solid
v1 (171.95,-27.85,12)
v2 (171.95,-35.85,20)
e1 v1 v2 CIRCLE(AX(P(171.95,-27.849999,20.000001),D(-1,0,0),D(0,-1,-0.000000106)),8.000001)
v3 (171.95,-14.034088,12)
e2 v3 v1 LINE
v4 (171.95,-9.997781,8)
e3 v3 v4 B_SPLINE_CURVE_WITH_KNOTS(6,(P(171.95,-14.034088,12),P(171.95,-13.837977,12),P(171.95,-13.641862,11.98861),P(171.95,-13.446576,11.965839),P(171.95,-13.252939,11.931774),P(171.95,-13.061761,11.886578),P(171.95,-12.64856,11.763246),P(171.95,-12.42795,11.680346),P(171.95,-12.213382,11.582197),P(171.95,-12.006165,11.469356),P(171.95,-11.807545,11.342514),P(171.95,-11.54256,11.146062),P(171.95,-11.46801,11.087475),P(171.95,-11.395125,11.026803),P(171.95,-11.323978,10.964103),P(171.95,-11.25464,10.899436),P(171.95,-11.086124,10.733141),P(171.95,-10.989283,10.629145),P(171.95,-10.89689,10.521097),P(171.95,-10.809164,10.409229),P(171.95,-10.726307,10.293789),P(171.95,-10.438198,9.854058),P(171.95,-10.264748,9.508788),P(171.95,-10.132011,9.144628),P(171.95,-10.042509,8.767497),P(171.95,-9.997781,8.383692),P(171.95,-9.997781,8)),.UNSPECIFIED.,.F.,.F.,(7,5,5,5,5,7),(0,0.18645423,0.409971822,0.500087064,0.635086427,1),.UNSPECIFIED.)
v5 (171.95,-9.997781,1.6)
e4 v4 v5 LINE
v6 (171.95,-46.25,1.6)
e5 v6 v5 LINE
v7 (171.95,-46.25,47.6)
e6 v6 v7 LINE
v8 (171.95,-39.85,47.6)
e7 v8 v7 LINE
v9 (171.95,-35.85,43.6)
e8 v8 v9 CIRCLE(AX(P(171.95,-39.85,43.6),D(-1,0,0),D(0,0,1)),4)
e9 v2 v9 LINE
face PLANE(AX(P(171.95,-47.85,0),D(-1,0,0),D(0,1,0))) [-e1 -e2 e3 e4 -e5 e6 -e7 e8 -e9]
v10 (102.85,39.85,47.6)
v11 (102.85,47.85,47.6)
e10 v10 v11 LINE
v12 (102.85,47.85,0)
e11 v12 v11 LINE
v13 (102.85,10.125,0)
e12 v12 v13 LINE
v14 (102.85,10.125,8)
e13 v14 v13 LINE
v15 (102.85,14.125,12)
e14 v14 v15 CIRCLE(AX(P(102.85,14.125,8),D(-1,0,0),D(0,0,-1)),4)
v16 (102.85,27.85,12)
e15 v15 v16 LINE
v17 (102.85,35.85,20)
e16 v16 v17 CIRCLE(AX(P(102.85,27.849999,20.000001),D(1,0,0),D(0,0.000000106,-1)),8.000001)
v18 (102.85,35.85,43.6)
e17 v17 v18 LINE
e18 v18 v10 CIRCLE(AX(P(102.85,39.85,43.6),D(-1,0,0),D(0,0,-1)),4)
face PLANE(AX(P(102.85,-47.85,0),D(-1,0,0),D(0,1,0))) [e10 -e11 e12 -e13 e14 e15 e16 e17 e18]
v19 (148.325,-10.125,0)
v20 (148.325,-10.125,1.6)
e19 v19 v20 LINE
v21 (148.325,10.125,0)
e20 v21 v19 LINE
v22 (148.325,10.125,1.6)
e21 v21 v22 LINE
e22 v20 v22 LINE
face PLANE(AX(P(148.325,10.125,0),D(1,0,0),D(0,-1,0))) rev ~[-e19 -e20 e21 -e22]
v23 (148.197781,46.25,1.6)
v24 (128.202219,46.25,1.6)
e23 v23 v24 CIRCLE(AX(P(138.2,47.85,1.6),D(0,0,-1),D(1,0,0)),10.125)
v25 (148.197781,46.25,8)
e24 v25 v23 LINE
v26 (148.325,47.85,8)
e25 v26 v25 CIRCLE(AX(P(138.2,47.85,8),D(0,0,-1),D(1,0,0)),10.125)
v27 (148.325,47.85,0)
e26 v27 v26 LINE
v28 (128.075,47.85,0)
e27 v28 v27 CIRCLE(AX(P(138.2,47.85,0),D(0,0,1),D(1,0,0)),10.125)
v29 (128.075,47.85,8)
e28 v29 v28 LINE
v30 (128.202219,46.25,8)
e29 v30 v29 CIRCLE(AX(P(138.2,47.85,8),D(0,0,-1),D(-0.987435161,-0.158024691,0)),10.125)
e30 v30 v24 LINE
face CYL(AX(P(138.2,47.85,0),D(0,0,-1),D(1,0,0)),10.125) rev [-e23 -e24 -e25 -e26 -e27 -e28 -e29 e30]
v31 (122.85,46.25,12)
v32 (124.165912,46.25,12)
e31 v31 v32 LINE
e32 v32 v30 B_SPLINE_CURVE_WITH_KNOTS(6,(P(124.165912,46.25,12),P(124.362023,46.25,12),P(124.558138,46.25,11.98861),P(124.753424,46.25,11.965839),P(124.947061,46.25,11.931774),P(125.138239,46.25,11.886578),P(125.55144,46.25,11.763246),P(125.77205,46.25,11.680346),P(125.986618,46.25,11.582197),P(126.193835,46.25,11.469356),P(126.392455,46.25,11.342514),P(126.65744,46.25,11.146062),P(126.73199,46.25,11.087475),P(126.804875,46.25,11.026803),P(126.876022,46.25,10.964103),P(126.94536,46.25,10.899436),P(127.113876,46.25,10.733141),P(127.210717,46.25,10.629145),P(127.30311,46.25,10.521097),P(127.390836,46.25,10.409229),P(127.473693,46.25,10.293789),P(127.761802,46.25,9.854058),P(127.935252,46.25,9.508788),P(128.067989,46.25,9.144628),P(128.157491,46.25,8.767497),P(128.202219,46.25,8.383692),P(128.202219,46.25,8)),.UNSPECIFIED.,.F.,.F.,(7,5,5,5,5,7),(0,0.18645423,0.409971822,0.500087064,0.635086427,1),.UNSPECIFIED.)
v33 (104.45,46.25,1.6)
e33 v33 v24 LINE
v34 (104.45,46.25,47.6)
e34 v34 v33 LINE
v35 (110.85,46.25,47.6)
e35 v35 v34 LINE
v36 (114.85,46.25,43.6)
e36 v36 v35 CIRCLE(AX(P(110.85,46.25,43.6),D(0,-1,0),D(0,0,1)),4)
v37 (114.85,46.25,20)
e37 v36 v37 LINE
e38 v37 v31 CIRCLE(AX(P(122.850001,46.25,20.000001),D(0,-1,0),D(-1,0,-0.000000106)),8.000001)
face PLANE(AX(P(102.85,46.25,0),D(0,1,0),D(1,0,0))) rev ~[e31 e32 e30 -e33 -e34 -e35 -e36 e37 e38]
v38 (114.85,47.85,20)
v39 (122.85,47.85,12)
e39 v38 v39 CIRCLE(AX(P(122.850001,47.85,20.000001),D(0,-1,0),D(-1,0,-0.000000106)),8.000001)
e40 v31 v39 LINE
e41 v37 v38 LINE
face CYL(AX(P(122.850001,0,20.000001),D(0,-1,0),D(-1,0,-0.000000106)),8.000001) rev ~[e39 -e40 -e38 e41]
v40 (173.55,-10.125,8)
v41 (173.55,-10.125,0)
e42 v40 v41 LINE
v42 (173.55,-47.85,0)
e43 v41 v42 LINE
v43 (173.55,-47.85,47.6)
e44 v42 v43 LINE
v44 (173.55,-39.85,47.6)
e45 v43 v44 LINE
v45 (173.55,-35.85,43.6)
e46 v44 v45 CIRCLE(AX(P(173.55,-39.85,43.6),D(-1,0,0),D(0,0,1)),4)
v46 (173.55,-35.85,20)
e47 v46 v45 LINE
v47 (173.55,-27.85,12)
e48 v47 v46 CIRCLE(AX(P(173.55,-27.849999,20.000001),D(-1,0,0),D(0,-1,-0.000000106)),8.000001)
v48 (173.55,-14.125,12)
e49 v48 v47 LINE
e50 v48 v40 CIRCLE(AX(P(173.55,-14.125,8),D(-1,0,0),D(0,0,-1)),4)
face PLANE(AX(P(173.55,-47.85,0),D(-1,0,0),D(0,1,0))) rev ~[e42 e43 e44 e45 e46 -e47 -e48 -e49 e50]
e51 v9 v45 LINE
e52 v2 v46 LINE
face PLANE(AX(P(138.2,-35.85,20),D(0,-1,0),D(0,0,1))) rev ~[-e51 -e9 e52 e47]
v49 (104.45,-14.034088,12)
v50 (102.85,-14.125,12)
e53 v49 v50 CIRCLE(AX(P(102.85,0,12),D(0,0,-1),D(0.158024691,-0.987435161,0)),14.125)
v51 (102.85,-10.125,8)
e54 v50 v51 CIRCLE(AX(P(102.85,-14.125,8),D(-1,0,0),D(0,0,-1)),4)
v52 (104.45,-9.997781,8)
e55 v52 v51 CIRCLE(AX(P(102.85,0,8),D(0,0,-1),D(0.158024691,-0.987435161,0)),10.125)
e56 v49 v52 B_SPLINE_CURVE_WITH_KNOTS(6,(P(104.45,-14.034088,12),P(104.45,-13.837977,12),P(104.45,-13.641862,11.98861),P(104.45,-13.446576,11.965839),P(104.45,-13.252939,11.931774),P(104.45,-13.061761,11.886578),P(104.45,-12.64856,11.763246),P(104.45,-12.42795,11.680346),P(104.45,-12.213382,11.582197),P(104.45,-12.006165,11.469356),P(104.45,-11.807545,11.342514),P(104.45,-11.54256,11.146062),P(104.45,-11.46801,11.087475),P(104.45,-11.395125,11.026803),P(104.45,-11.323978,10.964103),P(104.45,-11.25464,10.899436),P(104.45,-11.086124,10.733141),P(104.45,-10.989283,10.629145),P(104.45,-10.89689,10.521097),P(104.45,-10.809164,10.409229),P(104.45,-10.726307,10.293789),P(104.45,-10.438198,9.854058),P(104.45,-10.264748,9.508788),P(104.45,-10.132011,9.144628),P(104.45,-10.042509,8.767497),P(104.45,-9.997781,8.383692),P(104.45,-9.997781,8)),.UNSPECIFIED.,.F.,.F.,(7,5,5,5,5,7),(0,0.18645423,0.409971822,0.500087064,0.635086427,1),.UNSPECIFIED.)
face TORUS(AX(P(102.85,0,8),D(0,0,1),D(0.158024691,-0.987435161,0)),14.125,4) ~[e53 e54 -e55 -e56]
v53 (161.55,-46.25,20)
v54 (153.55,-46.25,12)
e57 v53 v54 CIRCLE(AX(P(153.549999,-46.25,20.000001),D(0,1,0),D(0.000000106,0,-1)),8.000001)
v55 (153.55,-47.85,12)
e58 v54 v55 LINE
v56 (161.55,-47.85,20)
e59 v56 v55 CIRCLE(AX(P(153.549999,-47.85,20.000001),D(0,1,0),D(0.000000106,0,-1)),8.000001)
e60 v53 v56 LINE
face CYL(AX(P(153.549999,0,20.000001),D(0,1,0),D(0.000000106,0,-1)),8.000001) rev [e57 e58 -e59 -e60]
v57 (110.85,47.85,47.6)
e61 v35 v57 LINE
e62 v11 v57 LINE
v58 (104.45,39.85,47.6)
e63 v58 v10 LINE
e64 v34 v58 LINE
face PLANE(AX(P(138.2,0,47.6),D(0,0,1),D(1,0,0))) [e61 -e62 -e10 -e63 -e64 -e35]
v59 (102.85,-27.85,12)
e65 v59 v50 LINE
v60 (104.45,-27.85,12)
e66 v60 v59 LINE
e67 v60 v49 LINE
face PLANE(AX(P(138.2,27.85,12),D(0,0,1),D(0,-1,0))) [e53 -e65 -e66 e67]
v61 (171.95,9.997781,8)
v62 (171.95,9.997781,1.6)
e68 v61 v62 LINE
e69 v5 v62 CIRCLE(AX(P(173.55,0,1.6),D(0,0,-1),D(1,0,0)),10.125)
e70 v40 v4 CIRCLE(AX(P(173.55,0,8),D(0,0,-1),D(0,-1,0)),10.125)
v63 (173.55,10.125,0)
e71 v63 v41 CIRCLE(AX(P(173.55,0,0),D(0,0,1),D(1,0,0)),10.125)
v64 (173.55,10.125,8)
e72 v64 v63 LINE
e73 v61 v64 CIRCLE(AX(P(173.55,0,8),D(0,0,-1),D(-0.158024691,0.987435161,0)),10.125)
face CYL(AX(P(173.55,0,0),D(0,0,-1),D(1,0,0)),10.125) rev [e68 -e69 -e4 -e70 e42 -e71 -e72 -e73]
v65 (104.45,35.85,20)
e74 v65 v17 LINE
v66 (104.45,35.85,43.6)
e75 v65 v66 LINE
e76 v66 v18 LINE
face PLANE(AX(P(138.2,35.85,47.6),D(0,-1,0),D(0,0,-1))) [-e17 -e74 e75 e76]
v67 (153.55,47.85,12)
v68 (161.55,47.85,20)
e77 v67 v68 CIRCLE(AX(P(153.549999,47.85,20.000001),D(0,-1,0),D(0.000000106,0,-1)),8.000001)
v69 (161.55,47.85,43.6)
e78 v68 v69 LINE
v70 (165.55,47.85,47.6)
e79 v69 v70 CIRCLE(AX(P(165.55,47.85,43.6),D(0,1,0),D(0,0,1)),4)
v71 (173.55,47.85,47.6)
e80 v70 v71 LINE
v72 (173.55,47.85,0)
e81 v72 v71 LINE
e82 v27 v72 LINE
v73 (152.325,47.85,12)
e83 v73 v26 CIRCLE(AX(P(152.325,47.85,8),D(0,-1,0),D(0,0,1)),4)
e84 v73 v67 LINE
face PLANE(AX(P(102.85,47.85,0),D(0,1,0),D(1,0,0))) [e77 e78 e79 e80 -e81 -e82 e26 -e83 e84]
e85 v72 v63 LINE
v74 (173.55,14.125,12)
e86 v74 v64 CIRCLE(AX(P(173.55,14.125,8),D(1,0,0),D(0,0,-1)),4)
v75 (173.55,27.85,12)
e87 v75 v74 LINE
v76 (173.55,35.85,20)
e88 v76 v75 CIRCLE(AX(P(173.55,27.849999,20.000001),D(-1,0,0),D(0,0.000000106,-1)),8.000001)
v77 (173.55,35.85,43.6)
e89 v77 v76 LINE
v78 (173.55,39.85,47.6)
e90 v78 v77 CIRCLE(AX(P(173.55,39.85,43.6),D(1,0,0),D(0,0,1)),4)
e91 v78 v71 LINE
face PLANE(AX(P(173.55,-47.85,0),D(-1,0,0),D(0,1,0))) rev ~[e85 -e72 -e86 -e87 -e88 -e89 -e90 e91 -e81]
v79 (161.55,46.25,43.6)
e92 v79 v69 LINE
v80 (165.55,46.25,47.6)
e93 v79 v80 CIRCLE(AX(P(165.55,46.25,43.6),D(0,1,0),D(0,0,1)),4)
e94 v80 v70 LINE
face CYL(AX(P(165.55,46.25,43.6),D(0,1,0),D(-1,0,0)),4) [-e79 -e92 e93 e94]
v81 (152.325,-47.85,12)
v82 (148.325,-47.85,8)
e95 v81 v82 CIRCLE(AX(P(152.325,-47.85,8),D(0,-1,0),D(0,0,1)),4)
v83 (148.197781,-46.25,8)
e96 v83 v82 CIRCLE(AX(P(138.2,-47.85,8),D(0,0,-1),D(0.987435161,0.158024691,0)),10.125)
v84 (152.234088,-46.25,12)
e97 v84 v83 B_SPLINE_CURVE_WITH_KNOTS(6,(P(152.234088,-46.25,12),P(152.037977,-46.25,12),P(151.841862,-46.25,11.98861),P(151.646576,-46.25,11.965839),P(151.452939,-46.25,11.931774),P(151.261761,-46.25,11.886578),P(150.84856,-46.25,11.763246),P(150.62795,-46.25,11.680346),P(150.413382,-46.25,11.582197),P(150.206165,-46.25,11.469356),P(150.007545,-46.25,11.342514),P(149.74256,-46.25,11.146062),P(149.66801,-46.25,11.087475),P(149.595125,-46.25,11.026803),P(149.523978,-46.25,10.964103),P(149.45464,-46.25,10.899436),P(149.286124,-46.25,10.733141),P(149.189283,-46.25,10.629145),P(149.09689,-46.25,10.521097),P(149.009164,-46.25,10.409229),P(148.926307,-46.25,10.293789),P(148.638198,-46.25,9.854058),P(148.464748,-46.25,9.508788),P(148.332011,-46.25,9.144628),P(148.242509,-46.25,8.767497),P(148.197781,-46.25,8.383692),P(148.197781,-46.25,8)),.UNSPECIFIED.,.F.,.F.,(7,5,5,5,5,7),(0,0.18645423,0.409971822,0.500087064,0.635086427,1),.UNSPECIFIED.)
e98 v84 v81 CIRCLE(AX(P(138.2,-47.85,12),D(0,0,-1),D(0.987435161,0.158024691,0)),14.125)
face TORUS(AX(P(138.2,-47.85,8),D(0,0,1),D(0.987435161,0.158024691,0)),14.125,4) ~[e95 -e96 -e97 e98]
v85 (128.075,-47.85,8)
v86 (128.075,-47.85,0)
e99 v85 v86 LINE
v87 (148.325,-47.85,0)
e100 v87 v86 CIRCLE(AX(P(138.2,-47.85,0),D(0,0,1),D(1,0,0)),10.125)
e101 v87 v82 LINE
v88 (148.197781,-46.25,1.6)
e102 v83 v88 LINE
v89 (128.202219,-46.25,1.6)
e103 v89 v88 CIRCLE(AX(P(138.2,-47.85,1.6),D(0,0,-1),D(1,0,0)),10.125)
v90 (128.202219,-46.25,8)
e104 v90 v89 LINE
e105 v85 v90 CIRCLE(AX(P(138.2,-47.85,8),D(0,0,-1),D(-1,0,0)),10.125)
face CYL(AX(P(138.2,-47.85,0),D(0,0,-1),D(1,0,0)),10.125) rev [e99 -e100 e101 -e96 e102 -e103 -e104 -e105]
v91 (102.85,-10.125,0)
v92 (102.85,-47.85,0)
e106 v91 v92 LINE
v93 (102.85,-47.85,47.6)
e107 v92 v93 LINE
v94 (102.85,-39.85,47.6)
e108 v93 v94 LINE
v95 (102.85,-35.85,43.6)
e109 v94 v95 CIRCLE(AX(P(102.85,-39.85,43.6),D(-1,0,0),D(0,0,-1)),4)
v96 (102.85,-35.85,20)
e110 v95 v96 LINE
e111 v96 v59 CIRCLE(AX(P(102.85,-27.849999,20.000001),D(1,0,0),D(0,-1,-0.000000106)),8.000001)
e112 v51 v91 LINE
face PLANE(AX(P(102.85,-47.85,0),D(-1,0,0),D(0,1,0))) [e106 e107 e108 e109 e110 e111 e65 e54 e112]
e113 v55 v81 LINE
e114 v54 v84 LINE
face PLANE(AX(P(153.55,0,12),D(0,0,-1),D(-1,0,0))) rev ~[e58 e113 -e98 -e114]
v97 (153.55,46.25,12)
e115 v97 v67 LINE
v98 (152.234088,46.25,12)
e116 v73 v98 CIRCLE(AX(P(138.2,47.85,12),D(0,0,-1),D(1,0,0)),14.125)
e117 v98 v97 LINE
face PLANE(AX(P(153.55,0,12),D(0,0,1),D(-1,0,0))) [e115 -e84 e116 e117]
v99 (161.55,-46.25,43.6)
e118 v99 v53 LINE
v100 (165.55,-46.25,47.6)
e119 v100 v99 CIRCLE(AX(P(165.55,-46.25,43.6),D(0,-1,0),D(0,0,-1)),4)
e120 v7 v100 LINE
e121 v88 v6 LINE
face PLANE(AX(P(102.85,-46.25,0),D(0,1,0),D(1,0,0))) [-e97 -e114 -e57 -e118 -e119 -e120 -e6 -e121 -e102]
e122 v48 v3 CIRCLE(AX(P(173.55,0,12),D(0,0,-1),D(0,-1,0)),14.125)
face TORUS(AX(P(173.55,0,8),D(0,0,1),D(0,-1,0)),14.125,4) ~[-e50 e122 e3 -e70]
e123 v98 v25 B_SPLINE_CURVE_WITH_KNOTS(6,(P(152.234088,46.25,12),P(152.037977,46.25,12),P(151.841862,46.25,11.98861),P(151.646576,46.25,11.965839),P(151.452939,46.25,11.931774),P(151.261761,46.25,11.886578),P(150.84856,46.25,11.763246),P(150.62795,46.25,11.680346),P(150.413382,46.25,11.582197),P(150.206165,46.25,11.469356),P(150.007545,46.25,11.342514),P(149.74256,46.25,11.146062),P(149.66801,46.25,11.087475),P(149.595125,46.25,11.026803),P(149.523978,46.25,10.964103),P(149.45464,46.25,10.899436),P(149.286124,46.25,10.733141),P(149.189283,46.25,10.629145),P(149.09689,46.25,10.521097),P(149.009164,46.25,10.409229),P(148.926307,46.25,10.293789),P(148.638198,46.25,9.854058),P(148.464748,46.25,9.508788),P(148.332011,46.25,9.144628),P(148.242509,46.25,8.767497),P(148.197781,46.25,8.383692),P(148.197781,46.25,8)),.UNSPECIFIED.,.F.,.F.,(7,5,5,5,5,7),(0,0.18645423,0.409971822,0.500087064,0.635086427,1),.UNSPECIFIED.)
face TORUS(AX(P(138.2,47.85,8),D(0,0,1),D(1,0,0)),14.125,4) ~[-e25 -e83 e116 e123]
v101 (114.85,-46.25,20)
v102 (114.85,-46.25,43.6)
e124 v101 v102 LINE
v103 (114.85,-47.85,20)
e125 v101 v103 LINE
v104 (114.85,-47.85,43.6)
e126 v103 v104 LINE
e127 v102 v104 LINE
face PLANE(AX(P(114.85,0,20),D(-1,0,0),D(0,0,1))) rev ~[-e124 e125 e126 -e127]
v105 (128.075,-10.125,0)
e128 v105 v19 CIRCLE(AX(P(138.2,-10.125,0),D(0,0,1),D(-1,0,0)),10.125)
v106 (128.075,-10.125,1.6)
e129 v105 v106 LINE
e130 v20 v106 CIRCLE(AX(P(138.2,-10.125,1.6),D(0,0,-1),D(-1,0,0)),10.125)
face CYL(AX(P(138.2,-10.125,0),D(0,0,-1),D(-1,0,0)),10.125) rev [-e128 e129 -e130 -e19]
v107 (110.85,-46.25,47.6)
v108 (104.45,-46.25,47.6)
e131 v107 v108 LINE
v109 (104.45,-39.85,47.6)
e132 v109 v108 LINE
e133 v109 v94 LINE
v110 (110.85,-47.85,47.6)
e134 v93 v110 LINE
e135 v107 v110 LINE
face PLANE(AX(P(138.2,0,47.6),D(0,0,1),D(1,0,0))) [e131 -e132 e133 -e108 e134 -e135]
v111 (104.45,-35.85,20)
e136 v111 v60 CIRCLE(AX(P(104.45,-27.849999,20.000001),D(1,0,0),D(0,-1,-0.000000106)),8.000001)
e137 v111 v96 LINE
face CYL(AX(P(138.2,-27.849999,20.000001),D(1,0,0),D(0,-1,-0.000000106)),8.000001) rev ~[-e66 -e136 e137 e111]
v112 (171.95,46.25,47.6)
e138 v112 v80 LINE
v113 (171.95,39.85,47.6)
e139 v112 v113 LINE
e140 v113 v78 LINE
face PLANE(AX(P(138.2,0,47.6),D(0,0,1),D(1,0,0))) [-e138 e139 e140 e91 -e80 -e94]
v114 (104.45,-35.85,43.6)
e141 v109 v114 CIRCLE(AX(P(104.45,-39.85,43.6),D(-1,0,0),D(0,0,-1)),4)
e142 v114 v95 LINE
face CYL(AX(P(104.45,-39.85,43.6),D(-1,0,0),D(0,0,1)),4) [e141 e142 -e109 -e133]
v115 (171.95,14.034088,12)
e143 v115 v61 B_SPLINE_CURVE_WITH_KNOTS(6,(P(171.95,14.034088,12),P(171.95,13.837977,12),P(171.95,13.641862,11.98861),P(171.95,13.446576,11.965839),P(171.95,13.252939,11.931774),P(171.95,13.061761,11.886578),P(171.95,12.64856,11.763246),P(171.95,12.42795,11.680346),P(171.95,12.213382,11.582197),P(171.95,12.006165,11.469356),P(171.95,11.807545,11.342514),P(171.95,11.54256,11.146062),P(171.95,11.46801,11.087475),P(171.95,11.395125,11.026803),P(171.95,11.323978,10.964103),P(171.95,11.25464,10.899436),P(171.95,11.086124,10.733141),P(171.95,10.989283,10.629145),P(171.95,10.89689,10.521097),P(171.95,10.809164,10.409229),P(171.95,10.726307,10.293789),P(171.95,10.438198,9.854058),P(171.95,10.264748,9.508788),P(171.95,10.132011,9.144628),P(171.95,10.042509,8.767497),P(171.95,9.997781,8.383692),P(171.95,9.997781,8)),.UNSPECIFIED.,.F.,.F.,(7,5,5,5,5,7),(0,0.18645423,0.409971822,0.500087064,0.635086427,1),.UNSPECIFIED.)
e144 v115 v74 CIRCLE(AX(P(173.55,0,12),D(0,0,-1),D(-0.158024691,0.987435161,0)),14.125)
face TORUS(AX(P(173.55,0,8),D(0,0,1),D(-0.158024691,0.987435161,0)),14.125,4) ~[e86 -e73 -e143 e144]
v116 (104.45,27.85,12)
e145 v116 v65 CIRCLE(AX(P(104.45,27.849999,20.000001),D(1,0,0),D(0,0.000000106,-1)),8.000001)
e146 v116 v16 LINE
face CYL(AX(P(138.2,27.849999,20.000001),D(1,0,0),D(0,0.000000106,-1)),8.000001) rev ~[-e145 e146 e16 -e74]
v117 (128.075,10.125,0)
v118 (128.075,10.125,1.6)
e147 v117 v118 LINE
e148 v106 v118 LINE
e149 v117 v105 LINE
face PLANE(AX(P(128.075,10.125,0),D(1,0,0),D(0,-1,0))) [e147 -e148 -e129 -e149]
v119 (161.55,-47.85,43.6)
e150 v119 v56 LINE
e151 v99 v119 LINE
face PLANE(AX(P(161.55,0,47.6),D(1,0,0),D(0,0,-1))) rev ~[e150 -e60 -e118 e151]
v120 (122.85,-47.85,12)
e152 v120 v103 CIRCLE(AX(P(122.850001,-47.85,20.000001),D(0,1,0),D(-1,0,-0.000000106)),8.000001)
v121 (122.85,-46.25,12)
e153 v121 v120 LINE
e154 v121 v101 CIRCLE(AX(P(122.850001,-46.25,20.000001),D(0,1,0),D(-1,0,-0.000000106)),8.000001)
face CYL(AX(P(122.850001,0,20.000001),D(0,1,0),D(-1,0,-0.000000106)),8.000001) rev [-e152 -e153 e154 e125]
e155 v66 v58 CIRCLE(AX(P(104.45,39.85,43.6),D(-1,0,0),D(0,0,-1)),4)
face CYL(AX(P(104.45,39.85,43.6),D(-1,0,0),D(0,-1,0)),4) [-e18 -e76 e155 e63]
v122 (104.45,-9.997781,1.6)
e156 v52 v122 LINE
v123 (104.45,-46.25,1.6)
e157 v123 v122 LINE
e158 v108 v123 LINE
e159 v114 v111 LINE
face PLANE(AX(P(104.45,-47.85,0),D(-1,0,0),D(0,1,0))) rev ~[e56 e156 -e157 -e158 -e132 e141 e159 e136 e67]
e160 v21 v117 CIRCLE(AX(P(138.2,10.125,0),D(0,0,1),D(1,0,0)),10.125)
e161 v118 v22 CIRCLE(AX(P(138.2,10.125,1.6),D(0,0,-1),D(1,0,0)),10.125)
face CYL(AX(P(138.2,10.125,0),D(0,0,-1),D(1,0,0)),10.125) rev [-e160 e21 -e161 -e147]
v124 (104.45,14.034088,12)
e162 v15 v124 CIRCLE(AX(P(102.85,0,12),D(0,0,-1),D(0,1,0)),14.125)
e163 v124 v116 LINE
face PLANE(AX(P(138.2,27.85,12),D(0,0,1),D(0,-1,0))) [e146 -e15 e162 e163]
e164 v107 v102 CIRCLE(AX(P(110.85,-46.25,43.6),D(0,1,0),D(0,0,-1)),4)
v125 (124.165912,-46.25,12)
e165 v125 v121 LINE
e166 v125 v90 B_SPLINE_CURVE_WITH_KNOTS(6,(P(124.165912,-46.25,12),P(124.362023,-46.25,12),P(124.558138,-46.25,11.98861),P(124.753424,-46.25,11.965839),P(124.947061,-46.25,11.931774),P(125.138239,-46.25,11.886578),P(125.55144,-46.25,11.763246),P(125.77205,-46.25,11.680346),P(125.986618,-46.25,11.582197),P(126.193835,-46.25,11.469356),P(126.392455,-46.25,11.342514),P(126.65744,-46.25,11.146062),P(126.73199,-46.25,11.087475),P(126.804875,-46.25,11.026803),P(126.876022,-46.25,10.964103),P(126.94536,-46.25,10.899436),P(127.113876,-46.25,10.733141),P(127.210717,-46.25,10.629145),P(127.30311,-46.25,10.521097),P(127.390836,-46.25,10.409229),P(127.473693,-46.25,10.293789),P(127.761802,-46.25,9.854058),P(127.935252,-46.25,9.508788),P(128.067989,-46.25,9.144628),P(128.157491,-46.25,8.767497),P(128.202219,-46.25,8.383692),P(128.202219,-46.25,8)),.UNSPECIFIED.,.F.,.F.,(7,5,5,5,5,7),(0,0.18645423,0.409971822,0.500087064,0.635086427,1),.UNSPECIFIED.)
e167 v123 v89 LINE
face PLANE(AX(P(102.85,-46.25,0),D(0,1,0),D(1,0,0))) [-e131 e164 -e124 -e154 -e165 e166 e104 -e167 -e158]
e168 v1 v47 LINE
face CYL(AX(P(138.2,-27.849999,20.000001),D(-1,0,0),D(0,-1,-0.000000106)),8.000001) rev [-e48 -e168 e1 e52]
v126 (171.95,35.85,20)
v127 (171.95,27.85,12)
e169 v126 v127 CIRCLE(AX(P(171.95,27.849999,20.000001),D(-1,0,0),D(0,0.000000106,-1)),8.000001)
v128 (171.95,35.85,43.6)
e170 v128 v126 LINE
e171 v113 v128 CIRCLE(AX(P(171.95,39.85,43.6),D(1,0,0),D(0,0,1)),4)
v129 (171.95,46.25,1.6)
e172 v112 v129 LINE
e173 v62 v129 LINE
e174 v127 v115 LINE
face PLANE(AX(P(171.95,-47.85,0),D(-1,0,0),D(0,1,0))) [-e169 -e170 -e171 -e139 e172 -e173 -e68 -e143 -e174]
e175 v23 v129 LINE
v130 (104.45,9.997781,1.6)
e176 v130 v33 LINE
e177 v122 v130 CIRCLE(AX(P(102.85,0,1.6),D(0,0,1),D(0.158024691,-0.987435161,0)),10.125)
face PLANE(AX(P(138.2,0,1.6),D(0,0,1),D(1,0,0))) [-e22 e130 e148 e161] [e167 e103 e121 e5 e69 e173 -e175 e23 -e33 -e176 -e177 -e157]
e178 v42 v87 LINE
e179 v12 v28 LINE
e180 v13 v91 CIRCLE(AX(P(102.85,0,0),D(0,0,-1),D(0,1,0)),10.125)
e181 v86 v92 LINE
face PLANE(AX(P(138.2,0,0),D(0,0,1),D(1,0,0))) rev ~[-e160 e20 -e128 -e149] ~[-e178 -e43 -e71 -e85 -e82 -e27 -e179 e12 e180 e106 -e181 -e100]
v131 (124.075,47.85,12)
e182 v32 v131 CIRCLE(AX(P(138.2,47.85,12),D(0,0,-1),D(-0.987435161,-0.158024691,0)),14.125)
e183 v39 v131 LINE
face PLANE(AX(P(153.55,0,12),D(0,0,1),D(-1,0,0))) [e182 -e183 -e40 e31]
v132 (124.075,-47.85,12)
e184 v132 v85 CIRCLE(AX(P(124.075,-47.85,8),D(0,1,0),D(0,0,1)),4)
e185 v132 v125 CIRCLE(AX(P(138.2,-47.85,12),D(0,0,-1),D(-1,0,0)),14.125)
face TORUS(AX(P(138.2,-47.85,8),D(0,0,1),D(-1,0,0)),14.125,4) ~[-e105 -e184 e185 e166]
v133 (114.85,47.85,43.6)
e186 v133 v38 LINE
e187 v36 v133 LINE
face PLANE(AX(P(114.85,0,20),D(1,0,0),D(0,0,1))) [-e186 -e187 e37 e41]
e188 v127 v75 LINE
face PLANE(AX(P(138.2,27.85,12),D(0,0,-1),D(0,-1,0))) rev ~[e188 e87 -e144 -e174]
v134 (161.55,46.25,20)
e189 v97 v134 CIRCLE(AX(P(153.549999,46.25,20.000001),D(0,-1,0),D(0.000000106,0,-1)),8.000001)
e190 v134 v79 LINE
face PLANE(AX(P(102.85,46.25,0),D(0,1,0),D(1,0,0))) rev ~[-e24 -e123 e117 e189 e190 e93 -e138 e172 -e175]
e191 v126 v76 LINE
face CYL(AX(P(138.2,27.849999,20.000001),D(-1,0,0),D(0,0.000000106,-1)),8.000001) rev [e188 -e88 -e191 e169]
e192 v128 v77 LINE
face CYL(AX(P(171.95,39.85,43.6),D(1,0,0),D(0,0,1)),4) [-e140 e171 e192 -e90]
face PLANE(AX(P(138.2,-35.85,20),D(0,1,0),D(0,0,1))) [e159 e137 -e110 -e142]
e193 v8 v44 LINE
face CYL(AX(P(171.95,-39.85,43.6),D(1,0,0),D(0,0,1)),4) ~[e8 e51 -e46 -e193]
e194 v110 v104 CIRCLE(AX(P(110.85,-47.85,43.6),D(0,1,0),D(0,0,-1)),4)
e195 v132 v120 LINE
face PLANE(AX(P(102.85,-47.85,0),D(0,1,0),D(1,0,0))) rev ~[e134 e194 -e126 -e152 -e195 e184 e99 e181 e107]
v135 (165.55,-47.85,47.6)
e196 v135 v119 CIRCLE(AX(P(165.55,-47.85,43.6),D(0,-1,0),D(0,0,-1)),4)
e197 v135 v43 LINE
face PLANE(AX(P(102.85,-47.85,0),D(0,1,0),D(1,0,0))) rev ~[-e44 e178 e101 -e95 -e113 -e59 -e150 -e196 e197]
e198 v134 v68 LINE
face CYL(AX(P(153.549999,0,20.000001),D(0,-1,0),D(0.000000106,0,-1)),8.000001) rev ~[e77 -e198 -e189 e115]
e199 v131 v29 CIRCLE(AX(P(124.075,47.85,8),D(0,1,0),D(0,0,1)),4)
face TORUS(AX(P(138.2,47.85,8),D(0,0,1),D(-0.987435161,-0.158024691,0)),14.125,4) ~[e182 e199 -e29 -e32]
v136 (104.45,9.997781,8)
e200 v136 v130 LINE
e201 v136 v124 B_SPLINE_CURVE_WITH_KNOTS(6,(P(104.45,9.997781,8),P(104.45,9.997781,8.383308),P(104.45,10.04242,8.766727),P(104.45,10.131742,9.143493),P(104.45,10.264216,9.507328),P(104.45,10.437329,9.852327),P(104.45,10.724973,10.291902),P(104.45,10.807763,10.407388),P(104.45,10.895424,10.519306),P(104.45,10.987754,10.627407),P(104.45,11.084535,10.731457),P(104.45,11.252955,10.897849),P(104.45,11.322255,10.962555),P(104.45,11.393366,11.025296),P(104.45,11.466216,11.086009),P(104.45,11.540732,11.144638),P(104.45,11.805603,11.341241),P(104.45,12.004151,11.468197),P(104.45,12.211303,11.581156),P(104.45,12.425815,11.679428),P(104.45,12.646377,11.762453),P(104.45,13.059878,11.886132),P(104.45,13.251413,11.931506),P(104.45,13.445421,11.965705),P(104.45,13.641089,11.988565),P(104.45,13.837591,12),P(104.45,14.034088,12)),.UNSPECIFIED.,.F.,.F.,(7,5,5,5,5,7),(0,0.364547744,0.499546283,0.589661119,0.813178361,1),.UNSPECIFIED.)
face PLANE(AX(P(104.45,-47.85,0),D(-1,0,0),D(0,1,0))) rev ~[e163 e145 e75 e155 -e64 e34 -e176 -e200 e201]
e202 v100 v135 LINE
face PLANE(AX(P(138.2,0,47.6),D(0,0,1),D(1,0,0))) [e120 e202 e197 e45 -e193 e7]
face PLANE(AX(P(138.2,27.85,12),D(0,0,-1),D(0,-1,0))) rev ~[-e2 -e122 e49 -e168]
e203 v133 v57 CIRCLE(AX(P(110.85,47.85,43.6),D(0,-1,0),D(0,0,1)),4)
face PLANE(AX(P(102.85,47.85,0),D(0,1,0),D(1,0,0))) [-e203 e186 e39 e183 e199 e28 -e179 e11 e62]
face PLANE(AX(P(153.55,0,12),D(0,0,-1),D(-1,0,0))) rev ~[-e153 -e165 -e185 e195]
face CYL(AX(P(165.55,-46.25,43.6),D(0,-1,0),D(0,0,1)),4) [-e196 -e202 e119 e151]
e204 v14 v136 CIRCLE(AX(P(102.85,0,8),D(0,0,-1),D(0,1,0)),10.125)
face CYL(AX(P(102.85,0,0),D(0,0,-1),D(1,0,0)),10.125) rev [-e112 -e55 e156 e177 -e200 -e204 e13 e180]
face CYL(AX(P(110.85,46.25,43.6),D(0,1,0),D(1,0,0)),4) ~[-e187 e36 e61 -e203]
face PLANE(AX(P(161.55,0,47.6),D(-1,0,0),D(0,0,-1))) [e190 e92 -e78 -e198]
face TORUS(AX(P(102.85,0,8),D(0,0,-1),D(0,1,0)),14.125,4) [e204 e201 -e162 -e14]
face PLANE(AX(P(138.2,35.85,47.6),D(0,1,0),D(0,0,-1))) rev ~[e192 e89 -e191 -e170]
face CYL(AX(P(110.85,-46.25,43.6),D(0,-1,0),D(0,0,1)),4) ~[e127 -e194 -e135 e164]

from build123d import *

# Parameters (mm, degrees)
SKETCH035_W          = 70.7
SKETCH035_H          = 95.7
PAD017_DEPTH         = 47.6
THICKNESS017_T       = -1.6
POCKET018_DEPTH      = 47.851
POCKET018_DEPTH_BACK = 47.851
POCKET019_DEPTH      = 35.351
POCKET019_DEPTH_BACK = 35.351
SKETCH038_R          = 10.125
POCKET020_DEPTH      = 0.001
POCKET020_DEPTH_BACK = 47.601
FILLET003_R          = 4


with BuildPart() as part:
    # Sketch035 → Pad017 (new body)
    with BuildSketch(Plane.XY):
        Rectangle(SKETCH035_W, SKETCH035_H)
    extrude(amount=PAD017_DEPTH)

    # Thickness017
    thickness017_openings = [part.faces().sort_by_distance(p)[0] for p in [
        (0, 0, 47.6),
    ]]
    offset(amount=THICKNESS017_T, openings=thickness017_openings, kind=Kind.INTERSECTION)

    # Sketch036 → Pocket018 (cut, two sides)
    with BuildSketch(Plane.XZ) as pocket018_sk:
        with BuildLine():
            Line((-23.35, 47.6), (23.35, 47.6))
            Line((23.35, 47.6), (23.35, 20))
            ThreePointArc((15.35, 12), (21.006854, 14.343146), (23.35, 20))
            Line((15.35, 12), (-15.35, 12))
            ThreePointArc((-23.35, 20), (-21.006854, 14.343146), (-15.35, 12))
            Line((-23.35, 20), (-23.35, 47.6))
        make_face()
    extrude(amount=-POCKET018_DEPTH, mode=Mode.SUBTRACT)
    extrude(pocket018_sk.sketch, amount=POCKET018_DEPTH_BACK, mode=Mode.SUBTRACT)

    # Sketch037 → Pocket019 (cut, two sides)
    with BuildSketch(Plane.YZ) as pocket019_sk:
        with BuildLine():
            Line((-35.85, 47.6), (35.85, 47.6))
            Line((35.85, 47.6), (35.85, 20))
            ThreePointArc((27.85, 12), (33.506854, 14.343146), (35.85, 20))
            Line((27.85, 12), (-27.85, 12))
            ThreePointArc((-35.85, 20), (-33.506854, 14.343146), (-27.85, 12))
            Line((-35.85, 20), (-35.85, 47.6))
        make_face()
    extrude(amount=-POCKET019_DEPTH, mode=Mode.SUBTRACT)
    extrude(pocket019_sk.sketch, amount=POCKET019_DEPTH_BACK, mode=Mode.SUBTRACT)

    # Sketch038 → Pocket020 (cut, two sides)
    with BuildSketch(Plane.XY) as pocket020_sk:
        with Locations((0, 47.85)):
            Circle(SKETCH038_R)
        with Locations((0, -47.85)):
            Circle(SKETCH038_R)
        with Locations((35.35, 0)):
            Circle(SKETCH038_R)
        with Locations((-35.35, 0)):
            Circle(SKETCH038_R)
        with BuildLine():
            ThreePointArc((10.125, 10.125), (0, 20.25), (-10.125, 10.125))
            Line((-10.125, 10.125), (-10.125, -10.125))
            ThreePointArc((-10.125, -10.125), (0, -20.25), (10.125, -10.125))
            Line((10.125, 10.125), (10.125, -10.125))
        make_face()
    extrude(amount=-POCKET020_DEPTH, mode=Mode.SUBTRACT)
    extrude(pocket020_sk.sketch, amount=POCKET020_DEPTH_BACK, mode=Mode.SUBTRACT)

    # Fillet003
    fillet003_edges = [part.edges().sort_by_distance(p)[0] for p in [
        (34.547475, -10.093145, 12),
        (34.547475, 10.093145, 12),
        (34.55, 35.85, 47.6),
        (23.35, 47.05, 47.6),
        (10.093145, 47.047475, 12),
        (-10.093145, 47.047475, 12),
        (-23.35, 47.05, 47.6),
        (-34.55, 35.85, 47.6),
        (-34.547475, 10.093145, 12),
        (-34.547475, -10.093145, 12),
        (-34.55, -35.85, 47.6),
        (-23.35, -47.05, 47.6),
        (-10.093145, -47.047475, 12),
        (10.093145, -47.047475, 12),
        (23.35, -47.05, 47.6),
        (34.55, -35.85, 47.6),
    ]]
    fillet(fillet003_edges, radius=FILLET003_R)


with BuildPart() as part_1:
    # Body017 placement: moved
    add(part.part.moved(Location((138.2, 0, 0))))


solid = part_1.part
